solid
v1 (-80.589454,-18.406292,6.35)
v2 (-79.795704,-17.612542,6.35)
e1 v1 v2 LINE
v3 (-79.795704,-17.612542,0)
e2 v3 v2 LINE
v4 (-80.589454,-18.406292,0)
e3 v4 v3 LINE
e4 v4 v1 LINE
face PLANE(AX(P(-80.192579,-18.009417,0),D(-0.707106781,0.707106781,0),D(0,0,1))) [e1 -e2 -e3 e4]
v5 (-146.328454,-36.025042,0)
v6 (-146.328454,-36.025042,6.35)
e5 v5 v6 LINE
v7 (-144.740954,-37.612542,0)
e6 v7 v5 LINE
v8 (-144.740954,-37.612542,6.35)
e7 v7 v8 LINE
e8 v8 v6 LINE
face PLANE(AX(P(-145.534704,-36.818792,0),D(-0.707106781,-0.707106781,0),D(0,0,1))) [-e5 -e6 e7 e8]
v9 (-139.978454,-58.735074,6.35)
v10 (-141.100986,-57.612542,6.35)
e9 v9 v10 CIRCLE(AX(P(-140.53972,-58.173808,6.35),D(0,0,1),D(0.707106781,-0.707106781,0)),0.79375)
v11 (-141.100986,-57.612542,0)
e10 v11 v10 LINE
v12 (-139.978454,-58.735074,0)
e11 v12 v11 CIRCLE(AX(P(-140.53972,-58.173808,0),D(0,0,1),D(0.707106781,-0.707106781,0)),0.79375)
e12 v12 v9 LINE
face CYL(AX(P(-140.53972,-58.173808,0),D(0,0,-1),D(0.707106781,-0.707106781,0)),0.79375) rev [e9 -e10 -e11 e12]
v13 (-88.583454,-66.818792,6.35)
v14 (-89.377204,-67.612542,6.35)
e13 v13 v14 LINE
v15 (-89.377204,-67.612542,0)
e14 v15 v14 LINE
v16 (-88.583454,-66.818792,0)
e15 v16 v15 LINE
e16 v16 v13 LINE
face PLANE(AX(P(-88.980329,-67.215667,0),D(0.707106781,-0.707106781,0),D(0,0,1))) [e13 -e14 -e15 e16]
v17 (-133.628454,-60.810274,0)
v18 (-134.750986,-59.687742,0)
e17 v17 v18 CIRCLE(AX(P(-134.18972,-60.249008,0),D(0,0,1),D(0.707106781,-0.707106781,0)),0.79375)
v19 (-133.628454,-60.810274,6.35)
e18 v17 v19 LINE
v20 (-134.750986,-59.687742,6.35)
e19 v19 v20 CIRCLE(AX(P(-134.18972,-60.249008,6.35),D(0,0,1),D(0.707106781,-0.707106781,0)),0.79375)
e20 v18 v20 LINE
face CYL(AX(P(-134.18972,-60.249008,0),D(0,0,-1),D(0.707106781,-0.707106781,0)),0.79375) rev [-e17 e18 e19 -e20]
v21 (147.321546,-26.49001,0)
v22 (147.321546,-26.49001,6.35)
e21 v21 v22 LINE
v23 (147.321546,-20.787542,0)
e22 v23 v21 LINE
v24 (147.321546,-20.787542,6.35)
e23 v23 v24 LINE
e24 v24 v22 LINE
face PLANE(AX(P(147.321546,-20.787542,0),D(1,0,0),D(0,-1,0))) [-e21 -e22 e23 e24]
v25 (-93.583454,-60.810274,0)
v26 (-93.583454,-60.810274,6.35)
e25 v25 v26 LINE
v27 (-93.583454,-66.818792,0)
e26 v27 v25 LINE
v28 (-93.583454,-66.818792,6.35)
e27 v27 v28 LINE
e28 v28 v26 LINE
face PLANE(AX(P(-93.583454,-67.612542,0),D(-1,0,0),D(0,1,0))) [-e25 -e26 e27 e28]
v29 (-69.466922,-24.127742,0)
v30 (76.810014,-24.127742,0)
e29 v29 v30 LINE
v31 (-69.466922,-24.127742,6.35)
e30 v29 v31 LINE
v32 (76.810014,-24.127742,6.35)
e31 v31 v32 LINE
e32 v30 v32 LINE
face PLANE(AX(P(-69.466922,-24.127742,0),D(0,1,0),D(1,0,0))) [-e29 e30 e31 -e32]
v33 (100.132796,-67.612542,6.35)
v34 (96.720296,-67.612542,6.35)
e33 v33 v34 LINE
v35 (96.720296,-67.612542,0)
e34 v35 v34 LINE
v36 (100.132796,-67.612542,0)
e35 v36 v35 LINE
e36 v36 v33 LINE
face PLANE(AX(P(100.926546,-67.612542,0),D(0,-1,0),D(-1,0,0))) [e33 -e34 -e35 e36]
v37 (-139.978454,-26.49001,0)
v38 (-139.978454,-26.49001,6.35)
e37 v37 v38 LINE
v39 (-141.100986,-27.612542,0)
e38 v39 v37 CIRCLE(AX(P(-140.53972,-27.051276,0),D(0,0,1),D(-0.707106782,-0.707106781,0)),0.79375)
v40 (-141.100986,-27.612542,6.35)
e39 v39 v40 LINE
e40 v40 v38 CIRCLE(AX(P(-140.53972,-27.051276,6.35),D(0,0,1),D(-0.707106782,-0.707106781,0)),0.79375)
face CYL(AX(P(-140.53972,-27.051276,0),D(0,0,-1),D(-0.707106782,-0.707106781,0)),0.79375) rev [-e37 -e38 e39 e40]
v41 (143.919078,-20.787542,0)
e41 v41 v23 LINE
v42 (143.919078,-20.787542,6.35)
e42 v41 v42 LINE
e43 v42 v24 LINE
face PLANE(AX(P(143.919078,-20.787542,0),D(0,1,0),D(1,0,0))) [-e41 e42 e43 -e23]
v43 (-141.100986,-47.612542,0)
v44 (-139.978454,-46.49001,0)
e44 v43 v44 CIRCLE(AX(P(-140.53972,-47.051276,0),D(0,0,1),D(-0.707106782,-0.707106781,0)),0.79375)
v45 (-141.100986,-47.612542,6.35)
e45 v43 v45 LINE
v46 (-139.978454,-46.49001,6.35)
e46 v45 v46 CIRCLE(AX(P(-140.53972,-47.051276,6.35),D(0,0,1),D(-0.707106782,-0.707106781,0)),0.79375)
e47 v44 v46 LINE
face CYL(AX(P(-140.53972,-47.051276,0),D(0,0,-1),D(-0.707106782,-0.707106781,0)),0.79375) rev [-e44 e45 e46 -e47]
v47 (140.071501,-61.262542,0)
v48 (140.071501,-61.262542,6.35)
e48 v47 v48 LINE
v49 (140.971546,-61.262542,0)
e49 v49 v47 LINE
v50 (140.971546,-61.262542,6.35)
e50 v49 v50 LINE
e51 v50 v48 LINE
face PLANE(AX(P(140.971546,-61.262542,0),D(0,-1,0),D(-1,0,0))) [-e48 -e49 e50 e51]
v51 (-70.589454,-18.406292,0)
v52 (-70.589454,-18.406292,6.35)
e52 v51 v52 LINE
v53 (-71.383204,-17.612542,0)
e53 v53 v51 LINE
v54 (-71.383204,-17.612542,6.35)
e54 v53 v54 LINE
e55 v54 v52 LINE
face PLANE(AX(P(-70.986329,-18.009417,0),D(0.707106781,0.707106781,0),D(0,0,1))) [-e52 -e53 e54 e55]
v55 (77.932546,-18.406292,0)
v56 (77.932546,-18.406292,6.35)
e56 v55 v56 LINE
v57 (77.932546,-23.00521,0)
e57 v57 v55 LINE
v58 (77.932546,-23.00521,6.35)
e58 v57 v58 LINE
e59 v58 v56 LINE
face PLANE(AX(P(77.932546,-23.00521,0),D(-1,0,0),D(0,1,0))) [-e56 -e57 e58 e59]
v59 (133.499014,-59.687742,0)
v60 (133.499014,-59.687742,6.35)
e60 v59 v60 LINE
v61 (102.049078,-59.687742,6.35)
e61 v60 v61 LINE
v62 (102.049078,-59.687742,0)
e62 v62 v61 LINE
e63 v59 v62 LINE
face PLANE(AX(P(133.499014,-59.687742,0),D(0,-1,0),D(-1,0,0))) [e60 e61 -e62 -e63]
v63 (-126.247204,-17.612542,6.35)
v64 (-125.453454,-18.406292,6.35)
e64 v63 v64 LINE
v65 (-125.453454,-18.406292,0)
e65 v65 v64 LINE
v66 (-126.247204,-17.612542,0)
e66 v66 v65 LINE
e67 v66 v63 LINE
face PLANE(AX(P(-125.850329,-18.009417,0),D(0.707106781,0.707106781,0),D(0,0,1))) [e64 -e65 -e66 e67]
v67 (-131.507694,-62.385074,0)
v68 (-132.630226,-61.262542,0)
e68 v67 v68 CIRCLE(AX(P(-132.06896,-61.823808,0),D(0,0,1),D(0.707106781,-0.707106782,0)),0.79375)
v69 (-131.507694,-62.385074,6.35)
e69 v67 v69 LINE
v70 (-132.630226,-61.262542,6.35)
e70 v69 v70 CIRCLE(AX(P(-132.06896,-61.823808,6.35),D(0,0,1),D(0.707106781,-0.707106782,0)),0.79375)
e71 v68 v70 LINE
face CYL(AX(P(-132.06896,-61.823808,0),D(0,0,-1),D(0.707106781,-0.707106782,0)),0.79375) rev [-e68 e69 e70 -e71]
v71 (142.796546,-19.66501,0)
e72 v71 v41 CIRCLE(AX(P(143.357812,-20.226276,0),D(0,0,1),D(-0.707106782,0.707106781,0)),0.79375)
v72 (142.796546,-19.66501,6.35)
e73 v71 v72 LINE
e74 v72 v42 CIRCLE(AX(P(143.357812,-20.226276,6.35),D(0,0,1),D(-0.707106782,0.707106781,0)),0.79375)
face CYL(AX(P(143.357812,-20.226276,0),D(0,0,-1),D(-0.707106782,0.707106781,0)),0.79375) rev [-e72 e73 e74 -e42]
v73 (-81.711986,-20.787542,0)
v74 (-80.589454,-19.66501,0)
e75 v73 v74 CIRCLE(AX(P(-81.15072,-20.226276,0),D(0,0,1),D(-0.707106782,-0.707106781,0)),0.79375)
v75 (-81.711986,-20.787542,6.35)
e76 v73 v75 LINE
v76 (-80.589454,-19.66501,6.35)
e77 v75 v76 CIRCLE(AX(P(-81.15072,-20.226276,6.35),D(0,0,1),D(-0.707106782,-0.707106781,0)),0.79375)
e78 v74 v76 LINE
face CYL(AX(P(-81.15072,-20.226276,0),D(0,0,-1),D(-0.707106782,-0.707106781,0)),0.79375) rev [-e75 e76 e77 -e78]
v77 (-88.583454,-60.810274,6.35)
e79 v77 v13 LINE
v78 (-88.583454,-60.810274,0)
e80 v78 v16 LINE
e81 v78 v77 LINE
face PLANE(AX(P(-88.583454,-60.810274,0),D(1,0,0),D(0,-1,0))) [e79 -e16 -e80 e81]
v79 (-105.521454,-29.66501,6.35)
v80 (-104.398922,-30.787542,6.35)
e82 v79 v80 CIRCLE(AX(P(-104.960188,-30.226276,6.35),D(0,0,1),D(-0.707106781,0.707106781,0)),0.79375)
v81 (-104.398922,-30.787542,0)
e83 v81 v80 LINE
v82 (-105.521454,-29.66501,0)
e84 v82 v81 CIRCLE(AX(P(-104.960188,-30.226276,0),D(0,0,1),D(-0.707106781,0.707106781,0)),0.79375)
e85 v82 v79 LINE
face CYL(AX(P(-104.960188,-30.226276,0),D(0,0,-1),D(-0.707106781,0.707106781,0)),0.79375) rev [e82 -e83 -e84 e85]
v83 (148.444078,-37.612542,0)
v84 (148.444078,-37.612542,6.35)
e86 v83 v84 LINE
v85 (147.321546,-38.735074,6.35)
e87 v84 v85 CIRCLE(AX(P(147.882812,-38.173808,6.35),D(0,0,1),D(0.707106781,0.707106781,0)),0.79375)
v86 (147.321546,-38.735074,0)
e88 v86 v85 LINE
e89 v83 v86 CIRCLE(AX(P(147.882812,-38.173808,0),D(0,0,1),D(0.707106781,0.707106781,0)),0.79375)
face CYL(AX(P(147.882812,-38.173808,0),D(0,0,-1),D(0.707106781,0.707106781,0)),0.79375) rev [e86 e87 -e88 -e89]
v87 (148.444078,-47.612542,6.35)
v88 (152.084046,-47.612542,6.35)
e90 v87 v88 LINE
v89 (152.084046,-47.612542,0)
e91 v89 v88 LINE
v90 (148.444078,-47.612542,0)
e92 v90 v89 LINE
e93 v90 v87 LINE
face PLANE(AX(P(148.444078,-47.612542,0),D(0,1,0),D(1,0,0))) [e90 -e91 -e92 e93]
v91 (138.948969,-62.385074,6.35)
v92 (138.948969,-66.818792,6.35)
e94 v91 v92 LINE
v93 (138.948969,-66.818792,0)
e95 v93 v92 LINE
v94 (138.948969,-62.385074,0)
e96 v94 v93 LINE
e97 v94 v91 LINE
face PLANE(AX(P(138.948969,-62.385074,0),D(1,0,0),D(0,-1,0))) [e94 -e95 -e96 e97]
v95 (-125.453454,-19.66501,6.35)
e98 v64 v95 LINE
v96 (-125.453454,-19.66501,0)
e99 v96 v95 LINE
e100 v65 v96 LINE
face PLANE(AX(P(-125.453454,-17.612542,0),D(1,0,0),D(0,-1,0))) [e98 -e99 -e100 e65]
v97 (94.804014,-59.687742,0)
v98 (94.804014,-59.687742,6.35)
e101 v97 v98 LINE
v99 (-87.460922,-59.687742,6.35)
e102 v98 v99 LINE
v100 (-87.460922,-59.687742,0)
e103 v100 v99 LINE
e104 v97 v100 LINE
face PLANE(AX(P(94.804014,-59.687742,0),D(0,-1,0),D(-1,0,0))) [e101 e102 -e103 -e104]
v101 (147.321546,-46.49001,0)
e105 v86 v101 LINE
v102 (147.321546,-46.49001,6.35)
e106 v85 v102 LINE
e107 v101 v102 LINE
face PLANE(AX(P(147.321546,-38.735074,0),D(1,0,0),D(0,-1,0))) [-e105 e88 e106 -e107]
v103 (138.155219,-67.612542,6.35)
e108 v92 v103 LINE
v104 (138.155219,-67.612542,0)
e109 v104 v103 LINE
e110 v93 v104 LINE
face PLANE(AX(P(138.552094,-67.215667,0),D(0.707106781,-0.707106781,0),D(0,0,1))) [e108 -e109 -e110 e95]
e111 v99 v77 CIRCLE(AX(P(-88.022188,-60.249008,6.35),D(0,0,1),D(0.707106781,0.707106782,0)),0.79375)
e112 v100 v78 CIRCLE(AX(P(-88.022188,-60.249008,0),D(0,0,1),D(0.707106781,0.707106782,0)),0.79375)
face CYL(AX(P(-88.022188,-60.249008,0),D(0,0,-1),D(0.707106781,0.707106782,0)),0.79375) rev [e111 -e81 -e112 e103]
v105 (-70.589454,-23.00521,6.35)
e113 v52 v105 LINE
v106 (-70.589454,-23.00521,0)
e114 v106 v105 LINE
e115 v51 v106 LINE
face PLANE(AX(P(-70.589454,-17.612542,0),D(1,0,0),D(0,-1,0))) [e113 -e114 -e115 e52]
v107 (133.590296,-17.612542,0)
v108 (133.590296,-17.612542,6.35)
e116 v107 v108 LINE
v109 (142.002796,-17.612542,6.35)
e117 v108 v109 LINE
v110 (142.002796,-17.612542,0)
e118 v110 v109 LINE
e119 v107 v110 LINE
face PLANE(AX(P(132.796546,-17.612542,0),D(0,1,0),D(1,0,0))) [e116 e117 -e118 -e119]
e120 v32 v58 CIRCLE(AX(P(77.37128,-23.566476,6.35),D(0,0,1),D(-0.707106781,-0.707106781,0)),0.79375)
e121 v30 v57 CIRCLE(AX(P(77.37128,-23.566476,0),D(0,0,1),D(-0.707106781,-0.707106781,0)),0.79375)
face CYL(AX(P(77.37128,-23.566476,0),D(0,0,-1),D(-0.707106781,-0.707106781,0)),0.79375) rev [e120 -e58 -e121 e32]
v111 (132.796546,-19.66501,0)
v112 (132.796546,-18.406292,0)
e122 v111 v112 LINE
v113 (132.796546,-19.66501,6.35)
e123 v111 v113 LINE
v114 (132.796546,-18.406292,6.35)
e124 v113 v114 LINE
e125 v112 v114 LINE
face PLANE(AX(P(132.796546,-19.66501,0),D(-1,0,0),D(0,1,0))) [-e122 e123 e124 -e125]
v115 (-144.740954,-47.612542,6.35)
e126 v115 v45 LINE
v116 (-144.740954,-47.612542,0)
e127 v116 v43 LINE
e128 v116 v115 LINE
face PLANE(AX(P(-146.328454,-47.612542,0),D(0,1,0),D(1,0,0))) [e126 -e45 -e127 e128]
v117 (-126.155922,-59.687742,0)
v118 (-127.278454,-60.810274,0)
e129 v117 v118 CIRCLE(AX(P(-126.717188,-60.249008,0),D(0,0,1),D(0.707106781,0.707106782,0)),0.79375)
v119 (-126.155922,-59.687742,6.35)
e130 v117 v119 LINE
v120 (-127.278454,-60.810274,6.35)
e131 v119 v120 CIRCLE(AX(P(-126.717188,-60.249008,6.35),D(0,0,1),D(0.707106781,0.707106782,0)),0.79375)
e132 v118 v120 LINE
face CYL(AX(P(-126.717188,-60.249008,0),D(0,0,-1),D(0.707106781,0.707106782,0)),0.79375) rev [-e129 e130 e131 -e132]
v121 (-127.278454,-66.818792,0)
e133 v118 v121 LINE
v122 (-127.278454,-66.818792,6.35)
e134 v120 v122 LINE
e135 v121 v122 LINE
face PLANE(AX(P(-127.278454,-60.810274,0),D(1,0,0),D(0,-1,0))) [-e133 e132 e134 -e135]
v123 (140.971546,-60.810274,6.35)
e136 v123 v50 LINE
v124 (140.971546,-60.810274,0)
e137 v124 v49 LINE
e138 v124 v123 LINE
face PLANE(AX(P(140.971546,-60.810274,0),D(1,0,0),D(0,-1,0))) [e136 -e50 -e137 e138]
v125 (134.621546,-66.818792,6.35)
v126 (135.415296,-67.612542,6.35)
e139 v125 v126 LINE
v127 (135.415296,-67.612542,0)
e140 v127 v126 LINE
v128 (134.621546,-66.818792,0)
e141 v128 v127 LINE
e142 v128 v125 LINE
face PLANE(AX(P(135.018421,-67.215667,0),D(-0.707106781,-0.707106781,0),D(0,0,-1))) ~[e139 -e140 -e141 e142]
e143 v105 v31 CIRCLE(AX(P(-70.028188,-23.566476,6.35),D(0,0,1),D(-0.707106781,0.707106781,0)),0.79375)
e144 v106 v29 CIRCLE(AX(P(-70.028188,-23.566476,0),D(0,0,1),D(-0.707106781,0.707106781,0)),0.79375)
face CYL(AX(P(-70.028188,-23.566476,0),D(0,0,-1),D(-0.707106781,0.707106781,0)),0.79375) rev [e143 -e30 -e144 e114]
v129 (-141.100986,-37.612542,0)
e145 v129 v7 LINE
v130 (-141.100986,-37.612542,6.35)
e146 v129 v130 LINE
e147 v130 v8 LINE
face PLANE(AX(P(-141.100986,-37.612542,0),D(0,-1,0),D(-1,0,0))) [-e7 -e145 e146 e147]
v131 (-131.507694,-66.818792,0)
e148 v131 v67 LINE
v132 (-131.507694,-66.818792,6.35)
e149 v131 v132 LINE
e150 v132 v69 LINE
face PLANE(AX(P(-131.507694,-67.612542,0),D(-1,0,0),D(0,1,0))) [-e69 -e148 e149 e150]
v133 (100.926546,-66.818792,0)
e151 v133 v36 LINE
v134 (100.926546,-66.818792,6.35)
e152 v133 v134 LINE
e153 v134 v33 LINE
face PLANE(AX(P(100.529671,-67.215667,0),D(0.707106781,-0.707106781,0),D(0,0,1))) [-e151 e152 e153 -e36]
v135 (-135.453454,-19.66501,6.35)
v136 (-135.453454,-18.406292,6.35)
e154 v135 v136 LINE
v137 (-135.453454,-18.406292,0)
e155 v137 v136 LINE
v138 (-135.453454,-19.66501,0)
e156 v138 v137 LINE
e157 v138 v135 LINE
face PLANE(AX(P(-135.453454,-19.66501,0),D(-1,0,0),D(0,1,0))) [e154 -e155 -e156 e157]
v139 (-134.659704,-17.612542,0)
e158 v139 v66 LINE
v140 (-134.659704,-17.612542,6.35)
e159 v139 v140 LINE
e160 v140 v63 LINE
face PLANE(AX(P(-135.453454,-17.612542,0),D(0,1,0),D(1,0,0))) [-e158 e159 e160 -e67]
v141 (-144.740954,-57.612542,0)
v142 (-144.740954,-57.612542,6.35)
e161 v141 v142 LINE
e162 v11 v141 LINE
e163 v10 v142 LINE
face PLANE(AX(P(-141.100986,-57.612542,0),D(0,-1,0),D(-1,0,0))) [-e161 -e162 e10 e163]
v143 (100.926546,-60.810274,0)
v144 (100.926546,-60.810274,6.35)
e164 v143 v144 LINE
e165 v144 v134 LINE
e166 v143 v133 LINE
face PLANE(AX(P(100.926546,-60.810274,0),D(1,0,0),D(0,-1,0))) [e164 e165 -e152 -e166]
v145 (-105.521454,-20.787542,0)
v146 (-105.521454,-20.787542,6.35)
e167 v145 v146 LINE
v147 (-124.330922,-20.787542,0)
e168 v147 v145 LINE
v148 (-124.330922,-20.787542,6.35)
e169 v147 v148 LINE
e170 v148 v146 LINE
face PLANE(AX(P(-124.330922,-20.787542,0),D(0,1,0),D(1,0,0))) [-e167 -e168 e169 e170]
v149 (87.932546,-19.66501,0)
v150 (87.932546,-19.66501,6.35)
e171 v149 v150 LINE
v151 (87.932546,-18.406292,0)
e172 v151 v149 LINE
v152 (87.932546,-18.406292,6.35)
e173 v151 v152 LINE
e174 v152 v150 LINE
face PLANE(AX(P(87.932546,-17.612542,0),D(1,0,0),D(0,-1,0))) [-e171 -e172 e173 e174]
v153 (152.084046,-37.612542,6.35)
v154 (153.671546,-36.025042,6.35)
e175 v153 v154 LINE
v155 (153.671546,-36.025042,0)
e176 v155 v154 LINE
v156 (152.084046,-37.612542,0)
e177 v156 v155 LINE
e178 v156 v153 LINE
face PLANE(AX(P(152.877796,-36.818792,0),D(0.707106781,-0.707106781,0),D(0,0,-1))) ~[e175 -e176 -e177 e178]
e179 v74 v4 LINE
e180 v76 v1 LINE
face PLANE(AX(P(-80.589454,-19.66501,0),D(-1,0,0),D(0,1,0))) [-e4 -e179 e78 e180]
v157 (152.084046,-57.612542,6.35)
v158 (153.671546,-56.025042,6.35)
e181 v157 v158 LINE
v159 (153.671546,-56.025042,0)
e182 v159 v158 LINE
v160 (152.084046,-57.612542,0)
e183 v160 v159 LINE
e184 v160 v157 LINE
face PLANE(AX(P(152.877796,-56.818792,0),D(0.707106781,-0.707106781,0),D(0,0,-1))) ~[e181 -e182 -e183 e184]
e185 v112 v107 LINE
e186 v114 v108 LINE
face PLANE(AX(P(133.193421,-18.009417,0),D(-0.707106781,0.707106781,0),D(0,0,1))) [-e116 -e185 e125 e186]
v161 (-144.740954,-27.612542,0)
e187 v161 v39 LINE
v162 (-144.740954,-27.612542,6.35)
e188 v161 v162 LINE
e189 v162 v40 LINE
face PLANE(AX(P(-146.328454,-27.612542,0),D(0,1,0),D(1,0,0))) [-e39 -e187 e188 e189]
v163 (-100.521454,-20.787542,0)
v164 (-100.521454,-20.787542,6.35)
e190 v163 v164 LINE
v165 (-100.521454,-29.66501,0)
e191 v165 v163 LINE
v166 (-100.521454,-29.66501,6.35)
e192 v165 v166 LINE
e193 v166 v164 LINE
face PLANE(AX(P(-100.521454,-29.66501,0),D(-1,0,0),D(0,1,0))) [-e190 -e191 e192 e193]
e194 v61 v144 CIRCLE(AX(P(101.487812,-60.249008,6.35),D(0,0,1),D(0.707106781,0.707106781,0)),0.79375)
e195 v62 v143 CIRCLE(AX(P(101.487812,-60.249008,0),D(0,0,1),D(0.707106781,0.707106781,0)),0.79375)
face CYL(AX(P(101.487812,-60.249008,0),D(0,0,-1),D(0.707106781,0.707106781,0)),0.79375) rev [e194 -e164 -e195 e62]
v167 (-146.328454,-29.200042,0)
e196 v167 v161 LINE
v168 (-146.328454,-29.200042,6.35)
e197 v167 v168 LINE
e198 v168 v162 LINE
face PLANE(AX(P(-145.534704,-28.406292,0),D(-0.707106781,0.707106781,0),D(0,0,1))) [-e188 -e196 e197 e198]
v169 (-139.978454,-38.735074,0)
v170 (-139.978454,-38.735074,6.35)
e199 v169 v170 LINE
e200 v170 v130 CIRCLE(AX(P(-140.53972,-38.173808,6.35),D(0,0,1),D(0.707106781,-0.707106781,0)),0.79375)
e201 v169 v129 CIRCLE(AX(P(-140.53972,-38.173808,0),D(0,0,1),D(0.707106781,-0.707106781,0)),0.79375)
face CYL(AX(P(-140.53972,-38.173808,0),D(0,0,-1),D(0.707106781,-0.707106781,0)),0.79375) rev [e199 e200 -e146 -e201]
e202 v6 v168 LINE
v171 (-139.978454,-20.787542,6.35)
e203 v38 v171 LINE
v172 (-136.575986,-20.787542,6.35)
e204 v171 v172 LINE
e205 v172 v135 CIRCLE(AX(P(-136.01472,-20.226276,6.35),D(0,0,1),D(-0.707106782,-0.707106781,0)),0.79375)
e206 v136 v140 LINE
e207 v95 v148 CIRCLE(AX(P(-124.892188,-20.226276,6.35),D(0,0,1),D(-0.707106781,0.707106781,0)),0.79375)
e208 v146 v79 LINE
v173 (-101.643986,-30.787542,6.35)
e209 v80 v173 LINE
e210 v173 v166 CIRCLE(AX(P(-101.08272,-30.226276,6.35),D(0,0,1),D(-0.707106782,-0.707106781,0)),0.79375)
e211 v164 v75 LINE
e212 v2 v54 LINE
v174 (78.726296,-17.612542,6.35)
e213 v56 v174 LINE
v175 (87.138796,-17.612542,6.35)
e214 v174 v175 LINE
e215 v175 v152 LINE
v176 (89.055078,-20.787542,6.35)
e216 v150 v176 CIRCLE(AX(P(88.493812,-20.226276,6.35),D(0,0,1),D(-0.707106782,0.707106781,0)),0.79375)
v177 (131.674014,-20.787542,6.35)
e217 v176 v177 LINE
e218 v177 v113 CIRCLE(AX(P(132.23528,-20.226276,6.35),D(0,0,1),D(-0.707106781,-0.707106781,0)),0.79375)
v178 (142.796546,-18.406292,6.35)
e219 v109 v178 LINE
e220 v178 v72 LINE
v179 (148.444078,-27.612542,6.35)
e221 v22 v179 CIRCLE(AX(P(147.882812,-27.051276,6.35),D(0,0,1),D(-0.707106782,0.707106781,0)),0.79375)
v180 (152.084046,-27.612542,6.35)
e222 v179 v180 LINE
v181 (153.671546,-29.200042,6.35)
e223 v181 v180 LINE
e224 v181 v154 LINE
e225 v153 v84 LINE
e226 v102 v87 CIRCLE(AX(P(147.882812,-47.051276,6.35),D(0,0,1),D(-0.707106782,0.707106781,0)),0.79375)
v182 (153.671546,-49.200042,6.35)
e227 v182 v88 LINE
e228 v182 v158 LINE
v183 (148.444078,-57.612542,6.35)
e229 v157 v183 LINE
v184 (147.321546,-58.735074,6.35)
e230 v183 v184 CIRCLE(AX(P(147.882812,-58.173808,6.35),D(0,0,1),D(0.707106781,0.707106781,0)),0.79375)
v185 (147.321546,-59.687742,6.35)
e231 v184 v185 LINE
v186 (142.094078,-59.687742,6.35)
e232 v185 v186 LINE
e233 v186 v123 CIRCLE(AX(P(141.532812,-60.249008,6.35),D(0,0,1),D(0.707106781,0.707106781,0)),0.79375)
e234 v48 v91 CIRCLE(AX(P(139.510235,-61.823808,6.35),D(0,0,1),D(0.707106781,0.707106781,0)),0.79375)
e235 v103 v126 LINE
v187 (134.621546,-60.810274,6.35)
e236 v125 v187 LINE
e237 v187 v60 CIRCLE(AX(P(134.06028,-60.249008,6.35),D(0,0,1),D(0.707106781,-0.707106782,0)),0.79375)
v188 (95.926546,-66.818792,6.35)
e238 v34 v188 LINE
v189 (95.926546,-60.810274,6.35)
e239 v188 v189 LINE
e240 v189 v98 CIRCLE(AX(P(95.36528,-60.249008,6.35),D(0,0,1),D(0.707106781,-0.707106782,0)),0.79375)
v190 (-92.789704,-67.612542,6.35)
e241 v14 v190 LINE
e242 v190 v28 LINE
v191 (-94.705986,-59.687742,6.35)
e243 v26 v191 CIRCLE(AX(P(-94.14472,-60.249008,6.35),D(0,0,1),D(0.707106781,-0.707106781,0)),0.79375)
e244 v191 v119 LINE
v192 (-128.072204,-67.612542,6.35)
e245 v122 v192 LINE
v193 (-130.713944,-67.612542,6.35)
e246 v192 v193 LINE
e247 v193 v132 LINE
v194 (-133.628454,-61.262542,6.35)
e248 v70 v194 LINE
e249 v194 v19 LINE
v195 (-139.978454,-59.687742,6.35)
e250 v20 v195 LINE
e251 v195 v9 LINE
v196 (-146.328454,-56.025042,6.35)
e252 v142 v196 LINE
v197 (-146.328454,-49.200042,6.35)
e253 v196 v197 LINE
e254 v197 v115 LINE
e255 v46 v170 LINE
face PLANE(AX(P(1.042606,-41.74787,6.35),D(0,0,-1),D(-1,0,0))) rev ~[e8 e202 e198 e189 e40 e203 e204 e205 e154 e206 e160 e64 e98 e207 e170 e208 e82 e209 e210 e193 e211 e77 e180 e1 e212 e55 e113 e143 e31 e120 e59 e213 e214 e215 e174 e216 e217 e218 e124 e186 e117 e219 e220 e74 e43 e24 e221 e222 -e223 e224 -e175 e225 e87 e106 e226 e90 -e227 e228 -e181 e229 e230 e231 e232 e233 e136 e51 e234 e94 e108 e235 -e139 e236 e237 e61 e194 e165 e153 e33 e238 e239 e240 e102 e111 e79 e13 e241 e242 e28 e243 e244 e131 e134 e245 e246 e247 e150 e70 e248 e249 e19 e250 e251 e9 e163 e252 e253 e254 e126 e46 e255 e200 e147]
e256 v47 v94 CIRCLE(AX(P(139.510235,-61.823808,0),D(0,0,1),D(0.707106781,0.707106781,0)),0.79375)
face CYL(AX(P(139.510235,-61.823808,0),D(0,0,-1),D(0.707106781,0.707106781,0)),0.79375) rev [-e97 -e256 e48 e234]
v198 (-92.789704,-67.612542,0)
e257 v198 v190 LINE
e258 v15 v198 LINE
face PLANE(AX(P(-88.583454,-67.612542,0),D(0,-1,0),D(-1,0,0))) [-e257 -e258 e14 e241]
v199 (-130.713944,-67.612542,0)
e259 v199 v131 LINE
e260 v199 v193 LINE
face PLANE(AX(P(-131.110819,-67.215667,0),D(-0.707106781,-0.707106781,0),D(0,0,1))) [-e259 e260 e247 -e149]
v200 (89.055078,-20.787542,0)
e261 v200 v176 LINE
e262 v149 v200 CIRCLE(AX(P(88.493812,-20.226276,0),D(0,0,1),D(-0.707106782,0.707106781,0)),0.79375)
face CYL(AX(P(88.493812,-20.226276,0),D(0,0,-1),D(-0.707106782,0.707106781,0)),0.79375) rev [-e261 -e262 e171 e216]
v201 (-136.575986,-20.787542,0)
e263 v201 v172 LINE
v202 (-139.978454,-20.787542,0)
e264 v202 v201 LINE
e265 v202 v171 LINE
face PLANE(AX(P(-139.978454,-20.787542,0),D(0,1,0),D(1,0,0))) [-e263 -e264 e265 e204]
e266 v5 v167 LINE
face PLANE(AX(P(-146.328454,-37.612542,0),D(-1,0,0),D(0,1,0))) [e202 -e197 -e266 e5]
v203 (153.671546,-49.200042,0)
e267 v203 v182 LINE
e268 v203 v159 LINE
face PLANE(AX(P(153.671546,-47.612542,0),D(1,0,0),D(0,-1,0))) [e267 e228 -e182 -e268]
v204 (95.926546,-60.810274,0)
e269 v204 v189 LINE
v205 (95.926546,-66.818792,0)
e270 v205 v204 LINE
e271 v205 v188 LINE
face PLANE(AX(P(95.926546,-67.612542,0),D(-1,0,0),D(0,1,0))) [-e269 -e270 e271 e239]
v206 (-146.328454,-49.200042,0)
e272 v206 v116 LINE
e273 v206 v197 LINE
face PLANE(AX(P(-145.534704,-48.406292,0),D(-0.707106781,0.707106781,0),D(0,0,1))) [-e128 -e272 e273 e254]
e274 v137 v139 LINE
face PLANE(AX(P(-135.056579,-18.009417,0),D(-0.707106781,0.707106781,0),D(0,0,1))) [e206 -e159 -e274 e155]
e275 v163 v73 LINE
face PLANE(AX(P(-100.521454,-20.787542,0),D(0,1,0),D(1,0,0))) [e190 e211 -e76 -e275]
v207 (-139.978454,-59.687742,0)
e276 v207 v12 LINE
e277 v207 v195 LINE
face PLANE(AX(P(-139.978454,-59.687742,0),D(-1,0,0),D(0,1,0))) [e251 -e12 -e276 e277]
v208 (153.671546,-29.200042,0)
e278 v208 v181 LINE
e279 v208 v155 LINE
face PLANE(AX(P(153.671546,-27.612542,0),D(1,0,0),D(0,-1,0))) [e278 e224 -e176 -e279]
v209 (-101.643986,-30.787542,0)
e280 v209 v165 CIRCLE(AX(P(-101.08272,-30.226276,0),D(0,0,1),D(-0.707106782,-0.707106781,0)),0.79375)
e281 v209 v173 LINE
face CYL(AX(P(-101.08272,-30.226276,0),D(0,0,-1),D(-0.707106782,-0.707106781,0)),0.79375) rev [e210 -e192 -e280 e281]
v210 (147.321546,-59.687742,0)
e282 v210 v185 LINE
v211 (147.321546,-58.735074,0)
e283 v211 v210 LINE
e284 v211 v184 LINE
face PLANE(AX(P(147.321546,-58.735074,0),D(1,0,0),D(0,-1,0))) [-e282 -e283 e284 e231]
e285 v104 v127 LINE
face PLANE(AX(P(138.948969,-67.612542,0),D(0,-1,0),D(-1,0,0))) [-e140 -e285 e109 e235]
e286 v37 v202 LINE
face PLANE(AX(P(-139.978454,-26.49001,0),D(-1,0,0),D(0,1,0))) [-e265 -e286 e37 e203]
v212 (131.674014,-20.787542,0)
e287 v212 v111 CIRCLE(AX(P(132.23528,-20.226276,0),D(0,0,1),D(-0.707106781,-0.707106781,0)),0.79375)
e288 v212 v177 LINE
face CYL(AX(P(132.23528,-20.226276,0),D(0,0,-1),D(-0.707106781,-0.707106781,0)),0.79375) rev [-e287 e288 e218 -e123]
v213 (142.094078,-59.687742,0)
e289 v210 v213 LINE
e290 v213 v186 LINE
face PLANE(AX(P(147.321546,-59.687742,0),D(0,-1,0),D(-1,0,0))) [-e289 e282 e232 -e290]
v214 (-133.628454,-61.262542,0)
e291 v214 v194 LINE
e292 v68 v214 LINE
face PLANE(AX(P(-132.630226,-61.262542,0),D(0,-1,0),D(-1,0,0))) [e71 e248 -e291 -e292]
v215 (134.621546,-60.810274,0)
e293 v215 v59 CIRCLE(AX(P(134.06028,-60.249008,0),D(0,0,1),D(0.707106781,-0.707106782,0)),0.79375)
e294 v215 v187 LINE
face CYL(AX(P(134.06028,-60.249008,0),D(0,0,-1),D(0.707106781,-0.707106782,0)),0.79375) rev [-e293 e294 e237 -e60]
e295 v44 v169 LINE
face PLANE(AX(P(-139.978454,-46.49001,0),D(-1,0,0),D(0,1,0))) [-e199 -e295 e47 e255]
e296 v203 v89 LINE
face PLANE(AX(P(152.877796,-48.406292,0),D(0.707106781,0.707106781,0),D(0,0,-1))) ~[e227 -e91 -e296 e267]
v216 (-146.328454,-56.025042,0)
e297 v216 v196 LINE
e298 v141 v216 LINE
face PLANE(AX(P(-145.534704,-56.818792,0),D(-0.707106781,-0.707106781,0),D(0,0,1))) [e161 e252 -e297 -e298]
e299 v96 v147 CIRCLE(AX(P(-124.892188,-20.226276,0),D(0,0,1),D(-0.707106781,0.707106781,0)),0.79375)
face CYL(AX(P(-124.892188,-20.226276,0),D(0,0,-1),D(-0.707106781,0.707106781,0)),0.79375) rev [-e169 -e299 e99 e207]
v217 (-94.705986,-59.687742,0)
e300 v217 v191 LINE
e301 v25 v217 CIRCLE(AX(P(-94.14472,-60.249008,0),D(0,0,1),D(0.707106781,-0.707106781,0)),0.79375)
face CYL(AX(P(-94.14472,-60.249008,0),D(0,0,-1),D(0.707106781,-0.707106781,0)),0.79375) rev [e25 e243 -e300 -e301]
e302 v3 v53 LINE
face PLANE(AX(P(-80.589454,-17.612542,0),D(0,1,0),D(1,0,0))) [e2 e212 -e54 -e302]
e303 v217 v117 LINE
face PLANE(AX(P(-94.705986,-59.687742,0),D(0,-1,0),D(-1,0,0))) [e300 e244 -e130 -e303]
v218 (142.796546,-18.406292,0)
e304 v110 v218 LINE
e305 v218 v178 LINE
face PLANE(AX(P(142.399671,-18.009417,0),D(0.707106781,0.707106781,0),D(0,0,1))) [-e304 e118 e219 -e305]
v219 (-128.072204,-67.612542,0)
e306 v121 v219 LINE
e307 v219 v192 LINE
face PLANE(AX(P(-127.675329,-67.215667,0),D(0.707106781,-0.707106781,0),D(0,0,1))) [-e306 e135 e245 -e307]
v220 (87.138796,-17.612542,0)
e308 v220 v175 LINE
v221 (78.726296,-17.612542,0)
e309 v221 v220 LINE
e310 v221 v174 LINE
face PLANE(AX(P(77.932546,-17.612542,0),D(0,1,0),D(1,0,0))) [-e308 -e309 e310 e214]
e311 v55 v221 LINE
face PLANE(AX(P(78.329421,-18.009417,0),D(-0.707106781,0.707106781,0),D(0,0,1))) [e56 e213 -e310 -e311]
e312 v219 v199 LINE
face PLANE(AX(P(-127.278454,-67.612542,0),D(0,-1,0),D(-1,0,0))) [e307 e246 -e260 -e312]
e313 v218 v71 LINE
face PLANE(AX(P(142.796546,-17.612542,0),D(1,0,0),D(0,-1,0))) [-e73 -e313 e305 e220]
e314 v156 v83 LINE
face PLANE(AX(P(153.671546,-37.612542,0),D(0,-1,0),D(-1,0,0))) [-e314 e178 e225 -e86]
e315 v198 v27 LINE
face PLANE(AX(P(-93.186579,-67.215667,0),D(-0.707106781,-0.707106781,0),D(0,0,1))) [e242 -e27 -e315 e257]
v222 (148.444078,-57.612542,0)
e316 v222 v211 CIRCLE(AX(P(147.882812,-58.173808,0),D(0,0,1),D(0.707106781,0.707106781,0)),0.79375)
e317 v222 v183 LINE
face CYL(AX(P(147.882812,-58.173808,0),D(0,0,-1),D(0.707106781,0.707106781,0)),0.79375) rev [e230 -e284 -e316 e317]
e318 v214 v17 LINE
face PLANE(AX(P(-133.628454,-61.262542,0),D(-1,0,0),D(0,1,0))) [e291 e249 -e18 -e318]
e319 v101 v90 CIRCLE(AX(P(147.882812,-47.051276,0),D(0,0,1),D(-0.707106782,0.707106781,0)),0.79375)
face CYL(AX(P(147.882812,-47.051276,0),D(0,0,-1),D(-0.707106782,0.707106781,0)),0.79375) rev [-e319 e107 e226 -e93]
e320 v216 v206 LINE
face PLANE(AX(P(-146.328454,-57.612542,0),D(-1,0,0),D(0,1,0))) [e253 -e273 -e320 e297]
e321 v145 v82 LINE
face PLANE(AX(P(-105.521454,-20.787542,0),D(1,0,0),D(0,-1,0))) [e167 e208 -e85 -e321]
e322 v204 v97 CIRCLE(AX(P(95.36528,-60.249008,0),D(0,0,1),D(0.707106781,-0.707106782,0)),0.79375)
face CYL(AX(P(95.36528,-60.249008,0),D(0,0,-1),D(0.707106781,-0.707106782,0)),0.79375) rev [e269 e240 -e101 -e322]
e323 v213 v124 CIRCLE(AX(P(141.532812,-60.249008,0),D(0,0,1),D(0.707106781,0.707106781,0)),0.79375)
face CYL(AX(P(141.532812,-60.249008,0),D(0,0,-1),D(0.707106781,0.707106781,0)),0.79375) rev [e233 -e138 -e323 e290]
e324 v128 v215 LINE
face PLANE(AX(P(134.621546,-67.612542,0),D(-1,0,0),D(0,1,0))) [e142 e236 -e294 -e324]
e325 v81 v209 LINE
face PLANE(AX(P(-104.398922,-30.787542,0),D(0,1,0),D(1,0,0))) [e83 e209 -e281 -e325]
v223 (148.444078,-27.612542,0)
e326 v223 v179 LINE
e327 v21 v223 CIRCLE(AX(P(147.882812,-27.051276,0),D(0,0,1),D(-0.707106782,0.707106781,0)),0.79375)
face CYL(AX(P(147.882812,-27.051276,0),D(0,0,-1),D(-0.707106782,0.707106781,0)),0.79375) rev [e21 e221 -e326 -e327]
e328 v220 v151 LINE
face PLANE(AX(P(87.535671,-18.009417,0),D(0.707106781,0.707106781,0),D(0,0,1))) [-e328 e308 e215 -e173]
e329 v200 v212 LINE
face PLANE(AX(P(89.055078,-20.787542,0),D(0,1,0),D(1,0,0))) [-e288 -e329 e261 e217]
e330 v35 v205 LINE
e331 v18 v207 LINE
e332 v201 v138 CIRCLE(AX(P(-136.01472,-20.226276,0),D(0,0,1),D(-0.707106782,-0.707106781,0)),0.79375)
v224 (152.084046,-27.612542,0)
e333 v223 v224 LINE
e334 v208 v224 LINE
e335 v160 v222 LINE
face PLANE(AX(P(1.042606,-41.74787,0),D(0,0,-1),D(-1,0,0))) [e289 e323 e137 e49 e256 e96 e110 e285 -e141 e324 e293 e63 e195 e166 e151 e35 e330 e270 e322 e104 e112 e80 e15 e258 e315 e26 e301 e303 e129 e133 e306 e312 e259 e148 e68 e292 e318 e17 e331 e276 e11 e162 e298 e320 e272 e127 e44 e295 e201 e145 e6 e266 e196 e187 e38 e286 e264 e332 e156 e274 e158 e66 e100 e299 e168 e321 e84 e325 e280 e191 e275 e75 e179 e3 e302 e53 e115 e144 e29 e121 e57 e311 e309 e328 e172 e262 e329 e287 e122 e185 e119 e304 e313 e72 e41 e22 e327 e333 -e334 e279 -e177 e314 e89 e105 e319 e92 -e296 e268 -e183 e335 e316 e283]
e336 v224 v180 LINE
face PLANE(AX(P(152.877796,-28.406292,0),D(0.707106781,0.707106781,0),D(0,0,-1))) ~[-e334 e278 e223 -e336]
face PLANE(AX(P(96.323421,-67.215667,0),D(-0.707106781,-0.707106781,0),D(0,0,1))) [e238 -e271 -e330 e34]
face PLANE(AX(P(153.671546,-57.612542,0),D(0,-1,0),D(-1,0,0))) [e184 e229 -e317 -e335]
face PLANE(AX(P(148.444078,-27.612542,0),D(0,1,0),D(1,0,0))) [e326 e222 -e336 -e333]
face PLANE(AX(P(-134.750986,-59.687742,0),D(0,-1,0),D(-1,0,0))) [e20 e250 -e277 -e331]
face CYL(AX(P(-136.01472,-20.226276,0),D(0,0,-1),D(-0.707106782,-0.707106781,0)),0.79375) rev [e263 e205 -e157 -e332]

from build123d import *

# Parameters (mm, degrees)
BOSS_EXTRUDE1_DEPTH = 6.35
CHAMFER1_SIZE       = 0.79375
CHAMFER2_SIZE       = 1.5875


with BuildPart() as part:
    # Sketch1 → Boss-Extrude1 (new body)
    with BuildSketch(Plane.XY):
        with BuildLine():
            Line((134.621545702, -67.612541882), (134.621545702, -60.810273898))
            ThreePointArc((134.621545702, -60.810273898), (134.621545702, -59.687741882), (133.499013687, -59.687741882))
            Line((133.499013687, -59.687741882), (102.049077718, -59.687741882))
            ThreePointArc((102.049077718, -59.687741882), (100.926545702, -59.687741882), (100.926545702, -60.810273898))
            Line((100.926545702, -60.810273898), (100.926545702, -67.612541882))
            Line((100.926545702, -67.612541882), (95.926545702, -67.612541882))
            Line((95.926545702, -67.612541882), (95.926545702, -60.810273898))
            ThreePointArc((95.926545702, -60.810273898), (95.926545702, -59.687741882), (94.804013687, -59.687741882))
            Line((94.804013687, -59.687741882), (-87.460922281, -59.687741882))
            ThreePointArc((-87.460922281, -59.687741882), (-88.583454296, -59.687741882), (-88.583454296, -60.810273898))
            Line((-88.583454296, -60.810273898), (-88.583454296, -67.612541882))
            Line((-88.583454296, -67.612541882), (-93.583454296, -67.612541882))
            Line((-93.583454296, -67.612541882), (-93.583454296, -60.810273898))
            ThreePointArc((-93.583454296, -60.810273898), (-93.583454296, -59.687741882), (-94.705986312, -59.687741882))
            Line((-94.705986312, -59.687741882), (-126.155922281, -59.687741882))
            ThreePointArc((-126.155922281, -59.687741882), (-127.278454296, -59.687741882), (-127.278454296, -60.810273898))
            Line((-127.278454296, -60.810273898), (-127.278454296, -67.612541882))
            Line((-127.278454296, -67.612541882), (-131.507694323, -67.612541882))
            Line((-131.507694323, -67.612541882), (-131.507694323, -62.385073898))
            ThreePointArc((-131.507694323, -62.385073898), (-131.507694323, -61.262541882), (-132.630226338, -61.262541882))
            Line((-132.630226338, -61.262541882), (-133.628454296, -61.262541882))
            Line((-133.628454296, -61.262541882), (-133.628454296, -60.810273898))
            ThreePointArc((-133.628454296, -60.810273898), (-133.628454296, -59.687741882), (-134.750986312, -59.687741882))
            Line((-134.750986312, -59.687741882), (-139.978454296, -59.687741882))
            Line((-139.978454296, -59.687741882), (-139.978454296, -58.735073898))
            ThreePointArc((-139.978454296, -58.735073898), (-139.978454296, -57.612541882), (-141.100986312, -57.612541882))
            Line((-141.100986312, -57.612541882), (-146.328454296, -57.612541882))
            Line((-146.328454296, -57.612541882), (-146.328454296, -47.612541882))
            Line((-146.328454296, -47.612541882), (-141.100986312, -47.612541882))
            ThreePointArc((-141.100986312, -47.612541882), (-139.978454296, -47.612541882), (-139.978454296, -46.490009867))
            Line((-139.978454296, -46.490009867), (-139.978454296, -38.735073898))
            ThreePointArc((-139.978454296, -38.735073898), (-139.978454296, -37.612541882), (-141.100986312, -37.612541882))
            Line((-141.100986312, -37.612541882), (-146.328454296, -37.612541882))
            Line((-146.328454296, -37.612541882), (-146.328454296, -27.612541882))
            Line((-146.328454296, -27.612541882), (-141.100986312, -27.612541882))
            ThreePointArc((-141.100986312, -27.612541882), (-139.978454296, -27.612541882), (-139.978454296, -26.490009867))
            Line((-139.978454296, -26.490009867), (-139.978454296, -20.787541882))
            Line((-139.978454296, -20.787541882), (-136.575986312, -20.787541882))
            ThreePointArc((-136.575986312, -20.787541882), (-135.453454296, -20.787541882), (-135.453454296, -19.665009867))
            Line((-135.453454296, -19.665009867), (-135.453454296, -17.612541882))
            Line((-135.453454296, -17.612541882), (-125.453454296, -17.612541882))
            Line((-125.453454296, -17.612541882), (-125.453454296, -19.665009867))
            ThreePointArc((-125.453454296, -19.665009867), (-125.453454296, -20.787541882), (-124.330922281, -20.787541882))
            Line((-124.330922281, -20.787541882), (-105.521454296, -20.787541882))
            Line((-105.521454296, -20.787541882), (-105.521454296, -29.665009867))
            ThreePointArc((-105.521454296, -29.665009867), (-105.521454296, -30.787541882), (-104.398922281, -30.787541882))
            Line((-104.398922281, -30.787541882), (-101.643986312, -30.787541882))
            ThreePointArc((-101.643986312, -30.787541882), (-100.521454296, -30.787541882), (-100.521454296, -29.665009867))
            Line((-100.521454296, -29.665009867), (-100.521454296, -20.787541882))
            Line((-100.521454296, -20.787541882), (-81.711986312, -20.787541882))
            ThreePointArc((-81.711986312, -20.787541882), (-80.589454296, -20.787541882), (-80.589454296, -19.665009867))
            Line((-80.589454296, -19.665009867), (-80.589454296, -17.612541882))
            Line((-80.589454296, -17.612541882), (-70.589454296, -17.612541882))
            Line((-70.589454296, -17.612541882), (-70.589454296, -23.005209867))
            ThreePointArc((-70.589454296, -23.005209867), (-70.589454296, -24.127741882), (-69.466922281, -24.127741882))
            Line((-69.466922281, -24.127741882), (76.810013687, -24.127741882))
            ThreePointArc((76.810013687, -24.127741882), (77.932545702, -24.127741882), (77.932545702, -23.005209867))
            Line((77.932545702, -23.005209867), (77.932545702, -17.612541882))
            Line((77.932545702, -17.612541882), (87.932545702, -17.612541882))
            Line((87.932545702, -17.612541882), (87.932545702, -19.665009867))
            ThreePointArc((87.932545702, -19.665009867), (87.932545702, -20.787541882), (89.055077718, -20.787541882))
            Line((89.055077718, -20.787541882), (131.674013687, -20.787541882))
            ThreePointArc((131.674013687, -20.787541882), (132.796545702, -20.787541882), (132.796545702, -19.665009867))
            Line((132.796545702, -19.665009867), (132.796545702, -17.612541882))
            Line((132.796545702, -17.612541882), (142.796545702, -17.612541882))
            Line((142.796545702, -17.612541882), (142.796545702, -19.665009867))
            ThreePointArc((142.796545702, -19.665009867), (142.796545702, -20.787541882), (143.919077718, -20.787541882))
            Line((143.919077718, -20.787541882), (147.321545702, -20.787541882))
            Line((147.321545702, -20.787541882), (147.321545702, -26.490009867))
            ThreePointArc((147.321545702, -26.490009867), (147.321545702, -27.612541882), (148.444077718, -27.612541882))
            Line((148.444077718, -27.612541882), (153.671545702, -27.612541882))
            Line((153.671545702, -27.612541882), (153.671545702, -37.612541882))
            Line((153.671545702, -37.612541882), (148.444077718, -37.612541882))
            ThreePointArc((148.444077718, -37.612541882), (147.321545702, -37.612541882), (147.321545702, -38.735073898))
            Line((147.321545702, -38.735073898), (147.321545702, -46.490009867))
            ThreePointArc((147.321545702, -46.490009867), (147.321545702, -47.612541882), (148.444077718, -47.612541882))
            Line((148.444077718, -47.612541882), (153.671545702, -47.612541882))
            Line((153.671545702, -47.612541882), (153.671545702, -57.612541882))
            Line((153.671545702, -57.612541882), (148.444077718, -57.612541882))
            ThreePointArc((148.444077718, -57.612541882), (147.321545702, -57.612541882), (147.321545702, -58.735073898))
            Line((147.321545702, -58.735073898), (147.321545702, -59.687741882))
            Line((147.321545702, -59.687741882), (142.094077718, -59.687741882))
            ThreePointArc((142.094077718, -59.687741882), (140.971545702, -59.687741882), (140.971545702, -60.810273898))
            Line((140.971545702, -60.810273898), (140.971545702, -61.262541882))
            Line((140.971545702, -61.262541882), (140.071500685, -61.262541882))
            ThreePointArc((140.071500685, -61.262541882), (138.948968669, -61.262541882), (138.948968669, -62.385073898))
            Line((138.948968669, -62.385073898), (138.948968669, -67.612541882))
            Line((138.948968669, -67.612541882), (134.621545702, -67.612541882))
        make_face()
    extrude(amount=BOSS_EXTRUDE1_DEPTH)

    # Chamfer1
    chamfer1_edges = [part.edges().sort_by_distance(p)[0] for p in [
        (100.926545702, -67.612541882, 3.175),
        (95.926545702, -67.612541882, 3.175),
        (-88.583454296, -67.612541882, 3.175),
        (-93.583454296, -67.612541882, 3.175),
        (-127.278454296, -67.612541882, 3.175),
        (-131.507694323, -67.612541882, 3.175),
        (-135.453454296, -17.612541882, 3.175),
        (-125.453454296, -17.612541882, 3.175),
        (-80.589454296, -17.612541882, 3.175),
        (-70.589454296, -17.612541882, 3.175),
        (77.932545702, -17.612541882, 3.175),
        (87.932545702, -17.612541882, 3.175),
        (132.796545702, -17.612541882, 3.175),
        (142.796545702, -17.612541882, 3.175),
        (138.948968669, -67.612541882, 3.175),
        (134.621545702, -67.612541882, 3.175),
    ]]
    chamfer(chamfer1_edges, length=CHAMFER1_SIZE)

    # Chamfer2
    chamfer2_edges = [part.edges().sort_by_distance(p)[0] for p in [
        (-146.328454296, -57.612541882, 3.175),
        (-146.328454296, -47.612541882, 3.175),
        (-146.328454296, -37.612541882, 3.175),
        (-146.328454296, -27.612541882, 3.175),
        (153.671545702, -27.612541882, 3.175),
        (153.671545702, -37.612541882, 3.175),
        (153.671545702, -47.612541882, 3.175),
        (153.671545702, -57.612541882, 3.175),
    ]]
    chamfer(chamfer2_edges, length=CHAMFER2_SIZE)


solid = part.part
